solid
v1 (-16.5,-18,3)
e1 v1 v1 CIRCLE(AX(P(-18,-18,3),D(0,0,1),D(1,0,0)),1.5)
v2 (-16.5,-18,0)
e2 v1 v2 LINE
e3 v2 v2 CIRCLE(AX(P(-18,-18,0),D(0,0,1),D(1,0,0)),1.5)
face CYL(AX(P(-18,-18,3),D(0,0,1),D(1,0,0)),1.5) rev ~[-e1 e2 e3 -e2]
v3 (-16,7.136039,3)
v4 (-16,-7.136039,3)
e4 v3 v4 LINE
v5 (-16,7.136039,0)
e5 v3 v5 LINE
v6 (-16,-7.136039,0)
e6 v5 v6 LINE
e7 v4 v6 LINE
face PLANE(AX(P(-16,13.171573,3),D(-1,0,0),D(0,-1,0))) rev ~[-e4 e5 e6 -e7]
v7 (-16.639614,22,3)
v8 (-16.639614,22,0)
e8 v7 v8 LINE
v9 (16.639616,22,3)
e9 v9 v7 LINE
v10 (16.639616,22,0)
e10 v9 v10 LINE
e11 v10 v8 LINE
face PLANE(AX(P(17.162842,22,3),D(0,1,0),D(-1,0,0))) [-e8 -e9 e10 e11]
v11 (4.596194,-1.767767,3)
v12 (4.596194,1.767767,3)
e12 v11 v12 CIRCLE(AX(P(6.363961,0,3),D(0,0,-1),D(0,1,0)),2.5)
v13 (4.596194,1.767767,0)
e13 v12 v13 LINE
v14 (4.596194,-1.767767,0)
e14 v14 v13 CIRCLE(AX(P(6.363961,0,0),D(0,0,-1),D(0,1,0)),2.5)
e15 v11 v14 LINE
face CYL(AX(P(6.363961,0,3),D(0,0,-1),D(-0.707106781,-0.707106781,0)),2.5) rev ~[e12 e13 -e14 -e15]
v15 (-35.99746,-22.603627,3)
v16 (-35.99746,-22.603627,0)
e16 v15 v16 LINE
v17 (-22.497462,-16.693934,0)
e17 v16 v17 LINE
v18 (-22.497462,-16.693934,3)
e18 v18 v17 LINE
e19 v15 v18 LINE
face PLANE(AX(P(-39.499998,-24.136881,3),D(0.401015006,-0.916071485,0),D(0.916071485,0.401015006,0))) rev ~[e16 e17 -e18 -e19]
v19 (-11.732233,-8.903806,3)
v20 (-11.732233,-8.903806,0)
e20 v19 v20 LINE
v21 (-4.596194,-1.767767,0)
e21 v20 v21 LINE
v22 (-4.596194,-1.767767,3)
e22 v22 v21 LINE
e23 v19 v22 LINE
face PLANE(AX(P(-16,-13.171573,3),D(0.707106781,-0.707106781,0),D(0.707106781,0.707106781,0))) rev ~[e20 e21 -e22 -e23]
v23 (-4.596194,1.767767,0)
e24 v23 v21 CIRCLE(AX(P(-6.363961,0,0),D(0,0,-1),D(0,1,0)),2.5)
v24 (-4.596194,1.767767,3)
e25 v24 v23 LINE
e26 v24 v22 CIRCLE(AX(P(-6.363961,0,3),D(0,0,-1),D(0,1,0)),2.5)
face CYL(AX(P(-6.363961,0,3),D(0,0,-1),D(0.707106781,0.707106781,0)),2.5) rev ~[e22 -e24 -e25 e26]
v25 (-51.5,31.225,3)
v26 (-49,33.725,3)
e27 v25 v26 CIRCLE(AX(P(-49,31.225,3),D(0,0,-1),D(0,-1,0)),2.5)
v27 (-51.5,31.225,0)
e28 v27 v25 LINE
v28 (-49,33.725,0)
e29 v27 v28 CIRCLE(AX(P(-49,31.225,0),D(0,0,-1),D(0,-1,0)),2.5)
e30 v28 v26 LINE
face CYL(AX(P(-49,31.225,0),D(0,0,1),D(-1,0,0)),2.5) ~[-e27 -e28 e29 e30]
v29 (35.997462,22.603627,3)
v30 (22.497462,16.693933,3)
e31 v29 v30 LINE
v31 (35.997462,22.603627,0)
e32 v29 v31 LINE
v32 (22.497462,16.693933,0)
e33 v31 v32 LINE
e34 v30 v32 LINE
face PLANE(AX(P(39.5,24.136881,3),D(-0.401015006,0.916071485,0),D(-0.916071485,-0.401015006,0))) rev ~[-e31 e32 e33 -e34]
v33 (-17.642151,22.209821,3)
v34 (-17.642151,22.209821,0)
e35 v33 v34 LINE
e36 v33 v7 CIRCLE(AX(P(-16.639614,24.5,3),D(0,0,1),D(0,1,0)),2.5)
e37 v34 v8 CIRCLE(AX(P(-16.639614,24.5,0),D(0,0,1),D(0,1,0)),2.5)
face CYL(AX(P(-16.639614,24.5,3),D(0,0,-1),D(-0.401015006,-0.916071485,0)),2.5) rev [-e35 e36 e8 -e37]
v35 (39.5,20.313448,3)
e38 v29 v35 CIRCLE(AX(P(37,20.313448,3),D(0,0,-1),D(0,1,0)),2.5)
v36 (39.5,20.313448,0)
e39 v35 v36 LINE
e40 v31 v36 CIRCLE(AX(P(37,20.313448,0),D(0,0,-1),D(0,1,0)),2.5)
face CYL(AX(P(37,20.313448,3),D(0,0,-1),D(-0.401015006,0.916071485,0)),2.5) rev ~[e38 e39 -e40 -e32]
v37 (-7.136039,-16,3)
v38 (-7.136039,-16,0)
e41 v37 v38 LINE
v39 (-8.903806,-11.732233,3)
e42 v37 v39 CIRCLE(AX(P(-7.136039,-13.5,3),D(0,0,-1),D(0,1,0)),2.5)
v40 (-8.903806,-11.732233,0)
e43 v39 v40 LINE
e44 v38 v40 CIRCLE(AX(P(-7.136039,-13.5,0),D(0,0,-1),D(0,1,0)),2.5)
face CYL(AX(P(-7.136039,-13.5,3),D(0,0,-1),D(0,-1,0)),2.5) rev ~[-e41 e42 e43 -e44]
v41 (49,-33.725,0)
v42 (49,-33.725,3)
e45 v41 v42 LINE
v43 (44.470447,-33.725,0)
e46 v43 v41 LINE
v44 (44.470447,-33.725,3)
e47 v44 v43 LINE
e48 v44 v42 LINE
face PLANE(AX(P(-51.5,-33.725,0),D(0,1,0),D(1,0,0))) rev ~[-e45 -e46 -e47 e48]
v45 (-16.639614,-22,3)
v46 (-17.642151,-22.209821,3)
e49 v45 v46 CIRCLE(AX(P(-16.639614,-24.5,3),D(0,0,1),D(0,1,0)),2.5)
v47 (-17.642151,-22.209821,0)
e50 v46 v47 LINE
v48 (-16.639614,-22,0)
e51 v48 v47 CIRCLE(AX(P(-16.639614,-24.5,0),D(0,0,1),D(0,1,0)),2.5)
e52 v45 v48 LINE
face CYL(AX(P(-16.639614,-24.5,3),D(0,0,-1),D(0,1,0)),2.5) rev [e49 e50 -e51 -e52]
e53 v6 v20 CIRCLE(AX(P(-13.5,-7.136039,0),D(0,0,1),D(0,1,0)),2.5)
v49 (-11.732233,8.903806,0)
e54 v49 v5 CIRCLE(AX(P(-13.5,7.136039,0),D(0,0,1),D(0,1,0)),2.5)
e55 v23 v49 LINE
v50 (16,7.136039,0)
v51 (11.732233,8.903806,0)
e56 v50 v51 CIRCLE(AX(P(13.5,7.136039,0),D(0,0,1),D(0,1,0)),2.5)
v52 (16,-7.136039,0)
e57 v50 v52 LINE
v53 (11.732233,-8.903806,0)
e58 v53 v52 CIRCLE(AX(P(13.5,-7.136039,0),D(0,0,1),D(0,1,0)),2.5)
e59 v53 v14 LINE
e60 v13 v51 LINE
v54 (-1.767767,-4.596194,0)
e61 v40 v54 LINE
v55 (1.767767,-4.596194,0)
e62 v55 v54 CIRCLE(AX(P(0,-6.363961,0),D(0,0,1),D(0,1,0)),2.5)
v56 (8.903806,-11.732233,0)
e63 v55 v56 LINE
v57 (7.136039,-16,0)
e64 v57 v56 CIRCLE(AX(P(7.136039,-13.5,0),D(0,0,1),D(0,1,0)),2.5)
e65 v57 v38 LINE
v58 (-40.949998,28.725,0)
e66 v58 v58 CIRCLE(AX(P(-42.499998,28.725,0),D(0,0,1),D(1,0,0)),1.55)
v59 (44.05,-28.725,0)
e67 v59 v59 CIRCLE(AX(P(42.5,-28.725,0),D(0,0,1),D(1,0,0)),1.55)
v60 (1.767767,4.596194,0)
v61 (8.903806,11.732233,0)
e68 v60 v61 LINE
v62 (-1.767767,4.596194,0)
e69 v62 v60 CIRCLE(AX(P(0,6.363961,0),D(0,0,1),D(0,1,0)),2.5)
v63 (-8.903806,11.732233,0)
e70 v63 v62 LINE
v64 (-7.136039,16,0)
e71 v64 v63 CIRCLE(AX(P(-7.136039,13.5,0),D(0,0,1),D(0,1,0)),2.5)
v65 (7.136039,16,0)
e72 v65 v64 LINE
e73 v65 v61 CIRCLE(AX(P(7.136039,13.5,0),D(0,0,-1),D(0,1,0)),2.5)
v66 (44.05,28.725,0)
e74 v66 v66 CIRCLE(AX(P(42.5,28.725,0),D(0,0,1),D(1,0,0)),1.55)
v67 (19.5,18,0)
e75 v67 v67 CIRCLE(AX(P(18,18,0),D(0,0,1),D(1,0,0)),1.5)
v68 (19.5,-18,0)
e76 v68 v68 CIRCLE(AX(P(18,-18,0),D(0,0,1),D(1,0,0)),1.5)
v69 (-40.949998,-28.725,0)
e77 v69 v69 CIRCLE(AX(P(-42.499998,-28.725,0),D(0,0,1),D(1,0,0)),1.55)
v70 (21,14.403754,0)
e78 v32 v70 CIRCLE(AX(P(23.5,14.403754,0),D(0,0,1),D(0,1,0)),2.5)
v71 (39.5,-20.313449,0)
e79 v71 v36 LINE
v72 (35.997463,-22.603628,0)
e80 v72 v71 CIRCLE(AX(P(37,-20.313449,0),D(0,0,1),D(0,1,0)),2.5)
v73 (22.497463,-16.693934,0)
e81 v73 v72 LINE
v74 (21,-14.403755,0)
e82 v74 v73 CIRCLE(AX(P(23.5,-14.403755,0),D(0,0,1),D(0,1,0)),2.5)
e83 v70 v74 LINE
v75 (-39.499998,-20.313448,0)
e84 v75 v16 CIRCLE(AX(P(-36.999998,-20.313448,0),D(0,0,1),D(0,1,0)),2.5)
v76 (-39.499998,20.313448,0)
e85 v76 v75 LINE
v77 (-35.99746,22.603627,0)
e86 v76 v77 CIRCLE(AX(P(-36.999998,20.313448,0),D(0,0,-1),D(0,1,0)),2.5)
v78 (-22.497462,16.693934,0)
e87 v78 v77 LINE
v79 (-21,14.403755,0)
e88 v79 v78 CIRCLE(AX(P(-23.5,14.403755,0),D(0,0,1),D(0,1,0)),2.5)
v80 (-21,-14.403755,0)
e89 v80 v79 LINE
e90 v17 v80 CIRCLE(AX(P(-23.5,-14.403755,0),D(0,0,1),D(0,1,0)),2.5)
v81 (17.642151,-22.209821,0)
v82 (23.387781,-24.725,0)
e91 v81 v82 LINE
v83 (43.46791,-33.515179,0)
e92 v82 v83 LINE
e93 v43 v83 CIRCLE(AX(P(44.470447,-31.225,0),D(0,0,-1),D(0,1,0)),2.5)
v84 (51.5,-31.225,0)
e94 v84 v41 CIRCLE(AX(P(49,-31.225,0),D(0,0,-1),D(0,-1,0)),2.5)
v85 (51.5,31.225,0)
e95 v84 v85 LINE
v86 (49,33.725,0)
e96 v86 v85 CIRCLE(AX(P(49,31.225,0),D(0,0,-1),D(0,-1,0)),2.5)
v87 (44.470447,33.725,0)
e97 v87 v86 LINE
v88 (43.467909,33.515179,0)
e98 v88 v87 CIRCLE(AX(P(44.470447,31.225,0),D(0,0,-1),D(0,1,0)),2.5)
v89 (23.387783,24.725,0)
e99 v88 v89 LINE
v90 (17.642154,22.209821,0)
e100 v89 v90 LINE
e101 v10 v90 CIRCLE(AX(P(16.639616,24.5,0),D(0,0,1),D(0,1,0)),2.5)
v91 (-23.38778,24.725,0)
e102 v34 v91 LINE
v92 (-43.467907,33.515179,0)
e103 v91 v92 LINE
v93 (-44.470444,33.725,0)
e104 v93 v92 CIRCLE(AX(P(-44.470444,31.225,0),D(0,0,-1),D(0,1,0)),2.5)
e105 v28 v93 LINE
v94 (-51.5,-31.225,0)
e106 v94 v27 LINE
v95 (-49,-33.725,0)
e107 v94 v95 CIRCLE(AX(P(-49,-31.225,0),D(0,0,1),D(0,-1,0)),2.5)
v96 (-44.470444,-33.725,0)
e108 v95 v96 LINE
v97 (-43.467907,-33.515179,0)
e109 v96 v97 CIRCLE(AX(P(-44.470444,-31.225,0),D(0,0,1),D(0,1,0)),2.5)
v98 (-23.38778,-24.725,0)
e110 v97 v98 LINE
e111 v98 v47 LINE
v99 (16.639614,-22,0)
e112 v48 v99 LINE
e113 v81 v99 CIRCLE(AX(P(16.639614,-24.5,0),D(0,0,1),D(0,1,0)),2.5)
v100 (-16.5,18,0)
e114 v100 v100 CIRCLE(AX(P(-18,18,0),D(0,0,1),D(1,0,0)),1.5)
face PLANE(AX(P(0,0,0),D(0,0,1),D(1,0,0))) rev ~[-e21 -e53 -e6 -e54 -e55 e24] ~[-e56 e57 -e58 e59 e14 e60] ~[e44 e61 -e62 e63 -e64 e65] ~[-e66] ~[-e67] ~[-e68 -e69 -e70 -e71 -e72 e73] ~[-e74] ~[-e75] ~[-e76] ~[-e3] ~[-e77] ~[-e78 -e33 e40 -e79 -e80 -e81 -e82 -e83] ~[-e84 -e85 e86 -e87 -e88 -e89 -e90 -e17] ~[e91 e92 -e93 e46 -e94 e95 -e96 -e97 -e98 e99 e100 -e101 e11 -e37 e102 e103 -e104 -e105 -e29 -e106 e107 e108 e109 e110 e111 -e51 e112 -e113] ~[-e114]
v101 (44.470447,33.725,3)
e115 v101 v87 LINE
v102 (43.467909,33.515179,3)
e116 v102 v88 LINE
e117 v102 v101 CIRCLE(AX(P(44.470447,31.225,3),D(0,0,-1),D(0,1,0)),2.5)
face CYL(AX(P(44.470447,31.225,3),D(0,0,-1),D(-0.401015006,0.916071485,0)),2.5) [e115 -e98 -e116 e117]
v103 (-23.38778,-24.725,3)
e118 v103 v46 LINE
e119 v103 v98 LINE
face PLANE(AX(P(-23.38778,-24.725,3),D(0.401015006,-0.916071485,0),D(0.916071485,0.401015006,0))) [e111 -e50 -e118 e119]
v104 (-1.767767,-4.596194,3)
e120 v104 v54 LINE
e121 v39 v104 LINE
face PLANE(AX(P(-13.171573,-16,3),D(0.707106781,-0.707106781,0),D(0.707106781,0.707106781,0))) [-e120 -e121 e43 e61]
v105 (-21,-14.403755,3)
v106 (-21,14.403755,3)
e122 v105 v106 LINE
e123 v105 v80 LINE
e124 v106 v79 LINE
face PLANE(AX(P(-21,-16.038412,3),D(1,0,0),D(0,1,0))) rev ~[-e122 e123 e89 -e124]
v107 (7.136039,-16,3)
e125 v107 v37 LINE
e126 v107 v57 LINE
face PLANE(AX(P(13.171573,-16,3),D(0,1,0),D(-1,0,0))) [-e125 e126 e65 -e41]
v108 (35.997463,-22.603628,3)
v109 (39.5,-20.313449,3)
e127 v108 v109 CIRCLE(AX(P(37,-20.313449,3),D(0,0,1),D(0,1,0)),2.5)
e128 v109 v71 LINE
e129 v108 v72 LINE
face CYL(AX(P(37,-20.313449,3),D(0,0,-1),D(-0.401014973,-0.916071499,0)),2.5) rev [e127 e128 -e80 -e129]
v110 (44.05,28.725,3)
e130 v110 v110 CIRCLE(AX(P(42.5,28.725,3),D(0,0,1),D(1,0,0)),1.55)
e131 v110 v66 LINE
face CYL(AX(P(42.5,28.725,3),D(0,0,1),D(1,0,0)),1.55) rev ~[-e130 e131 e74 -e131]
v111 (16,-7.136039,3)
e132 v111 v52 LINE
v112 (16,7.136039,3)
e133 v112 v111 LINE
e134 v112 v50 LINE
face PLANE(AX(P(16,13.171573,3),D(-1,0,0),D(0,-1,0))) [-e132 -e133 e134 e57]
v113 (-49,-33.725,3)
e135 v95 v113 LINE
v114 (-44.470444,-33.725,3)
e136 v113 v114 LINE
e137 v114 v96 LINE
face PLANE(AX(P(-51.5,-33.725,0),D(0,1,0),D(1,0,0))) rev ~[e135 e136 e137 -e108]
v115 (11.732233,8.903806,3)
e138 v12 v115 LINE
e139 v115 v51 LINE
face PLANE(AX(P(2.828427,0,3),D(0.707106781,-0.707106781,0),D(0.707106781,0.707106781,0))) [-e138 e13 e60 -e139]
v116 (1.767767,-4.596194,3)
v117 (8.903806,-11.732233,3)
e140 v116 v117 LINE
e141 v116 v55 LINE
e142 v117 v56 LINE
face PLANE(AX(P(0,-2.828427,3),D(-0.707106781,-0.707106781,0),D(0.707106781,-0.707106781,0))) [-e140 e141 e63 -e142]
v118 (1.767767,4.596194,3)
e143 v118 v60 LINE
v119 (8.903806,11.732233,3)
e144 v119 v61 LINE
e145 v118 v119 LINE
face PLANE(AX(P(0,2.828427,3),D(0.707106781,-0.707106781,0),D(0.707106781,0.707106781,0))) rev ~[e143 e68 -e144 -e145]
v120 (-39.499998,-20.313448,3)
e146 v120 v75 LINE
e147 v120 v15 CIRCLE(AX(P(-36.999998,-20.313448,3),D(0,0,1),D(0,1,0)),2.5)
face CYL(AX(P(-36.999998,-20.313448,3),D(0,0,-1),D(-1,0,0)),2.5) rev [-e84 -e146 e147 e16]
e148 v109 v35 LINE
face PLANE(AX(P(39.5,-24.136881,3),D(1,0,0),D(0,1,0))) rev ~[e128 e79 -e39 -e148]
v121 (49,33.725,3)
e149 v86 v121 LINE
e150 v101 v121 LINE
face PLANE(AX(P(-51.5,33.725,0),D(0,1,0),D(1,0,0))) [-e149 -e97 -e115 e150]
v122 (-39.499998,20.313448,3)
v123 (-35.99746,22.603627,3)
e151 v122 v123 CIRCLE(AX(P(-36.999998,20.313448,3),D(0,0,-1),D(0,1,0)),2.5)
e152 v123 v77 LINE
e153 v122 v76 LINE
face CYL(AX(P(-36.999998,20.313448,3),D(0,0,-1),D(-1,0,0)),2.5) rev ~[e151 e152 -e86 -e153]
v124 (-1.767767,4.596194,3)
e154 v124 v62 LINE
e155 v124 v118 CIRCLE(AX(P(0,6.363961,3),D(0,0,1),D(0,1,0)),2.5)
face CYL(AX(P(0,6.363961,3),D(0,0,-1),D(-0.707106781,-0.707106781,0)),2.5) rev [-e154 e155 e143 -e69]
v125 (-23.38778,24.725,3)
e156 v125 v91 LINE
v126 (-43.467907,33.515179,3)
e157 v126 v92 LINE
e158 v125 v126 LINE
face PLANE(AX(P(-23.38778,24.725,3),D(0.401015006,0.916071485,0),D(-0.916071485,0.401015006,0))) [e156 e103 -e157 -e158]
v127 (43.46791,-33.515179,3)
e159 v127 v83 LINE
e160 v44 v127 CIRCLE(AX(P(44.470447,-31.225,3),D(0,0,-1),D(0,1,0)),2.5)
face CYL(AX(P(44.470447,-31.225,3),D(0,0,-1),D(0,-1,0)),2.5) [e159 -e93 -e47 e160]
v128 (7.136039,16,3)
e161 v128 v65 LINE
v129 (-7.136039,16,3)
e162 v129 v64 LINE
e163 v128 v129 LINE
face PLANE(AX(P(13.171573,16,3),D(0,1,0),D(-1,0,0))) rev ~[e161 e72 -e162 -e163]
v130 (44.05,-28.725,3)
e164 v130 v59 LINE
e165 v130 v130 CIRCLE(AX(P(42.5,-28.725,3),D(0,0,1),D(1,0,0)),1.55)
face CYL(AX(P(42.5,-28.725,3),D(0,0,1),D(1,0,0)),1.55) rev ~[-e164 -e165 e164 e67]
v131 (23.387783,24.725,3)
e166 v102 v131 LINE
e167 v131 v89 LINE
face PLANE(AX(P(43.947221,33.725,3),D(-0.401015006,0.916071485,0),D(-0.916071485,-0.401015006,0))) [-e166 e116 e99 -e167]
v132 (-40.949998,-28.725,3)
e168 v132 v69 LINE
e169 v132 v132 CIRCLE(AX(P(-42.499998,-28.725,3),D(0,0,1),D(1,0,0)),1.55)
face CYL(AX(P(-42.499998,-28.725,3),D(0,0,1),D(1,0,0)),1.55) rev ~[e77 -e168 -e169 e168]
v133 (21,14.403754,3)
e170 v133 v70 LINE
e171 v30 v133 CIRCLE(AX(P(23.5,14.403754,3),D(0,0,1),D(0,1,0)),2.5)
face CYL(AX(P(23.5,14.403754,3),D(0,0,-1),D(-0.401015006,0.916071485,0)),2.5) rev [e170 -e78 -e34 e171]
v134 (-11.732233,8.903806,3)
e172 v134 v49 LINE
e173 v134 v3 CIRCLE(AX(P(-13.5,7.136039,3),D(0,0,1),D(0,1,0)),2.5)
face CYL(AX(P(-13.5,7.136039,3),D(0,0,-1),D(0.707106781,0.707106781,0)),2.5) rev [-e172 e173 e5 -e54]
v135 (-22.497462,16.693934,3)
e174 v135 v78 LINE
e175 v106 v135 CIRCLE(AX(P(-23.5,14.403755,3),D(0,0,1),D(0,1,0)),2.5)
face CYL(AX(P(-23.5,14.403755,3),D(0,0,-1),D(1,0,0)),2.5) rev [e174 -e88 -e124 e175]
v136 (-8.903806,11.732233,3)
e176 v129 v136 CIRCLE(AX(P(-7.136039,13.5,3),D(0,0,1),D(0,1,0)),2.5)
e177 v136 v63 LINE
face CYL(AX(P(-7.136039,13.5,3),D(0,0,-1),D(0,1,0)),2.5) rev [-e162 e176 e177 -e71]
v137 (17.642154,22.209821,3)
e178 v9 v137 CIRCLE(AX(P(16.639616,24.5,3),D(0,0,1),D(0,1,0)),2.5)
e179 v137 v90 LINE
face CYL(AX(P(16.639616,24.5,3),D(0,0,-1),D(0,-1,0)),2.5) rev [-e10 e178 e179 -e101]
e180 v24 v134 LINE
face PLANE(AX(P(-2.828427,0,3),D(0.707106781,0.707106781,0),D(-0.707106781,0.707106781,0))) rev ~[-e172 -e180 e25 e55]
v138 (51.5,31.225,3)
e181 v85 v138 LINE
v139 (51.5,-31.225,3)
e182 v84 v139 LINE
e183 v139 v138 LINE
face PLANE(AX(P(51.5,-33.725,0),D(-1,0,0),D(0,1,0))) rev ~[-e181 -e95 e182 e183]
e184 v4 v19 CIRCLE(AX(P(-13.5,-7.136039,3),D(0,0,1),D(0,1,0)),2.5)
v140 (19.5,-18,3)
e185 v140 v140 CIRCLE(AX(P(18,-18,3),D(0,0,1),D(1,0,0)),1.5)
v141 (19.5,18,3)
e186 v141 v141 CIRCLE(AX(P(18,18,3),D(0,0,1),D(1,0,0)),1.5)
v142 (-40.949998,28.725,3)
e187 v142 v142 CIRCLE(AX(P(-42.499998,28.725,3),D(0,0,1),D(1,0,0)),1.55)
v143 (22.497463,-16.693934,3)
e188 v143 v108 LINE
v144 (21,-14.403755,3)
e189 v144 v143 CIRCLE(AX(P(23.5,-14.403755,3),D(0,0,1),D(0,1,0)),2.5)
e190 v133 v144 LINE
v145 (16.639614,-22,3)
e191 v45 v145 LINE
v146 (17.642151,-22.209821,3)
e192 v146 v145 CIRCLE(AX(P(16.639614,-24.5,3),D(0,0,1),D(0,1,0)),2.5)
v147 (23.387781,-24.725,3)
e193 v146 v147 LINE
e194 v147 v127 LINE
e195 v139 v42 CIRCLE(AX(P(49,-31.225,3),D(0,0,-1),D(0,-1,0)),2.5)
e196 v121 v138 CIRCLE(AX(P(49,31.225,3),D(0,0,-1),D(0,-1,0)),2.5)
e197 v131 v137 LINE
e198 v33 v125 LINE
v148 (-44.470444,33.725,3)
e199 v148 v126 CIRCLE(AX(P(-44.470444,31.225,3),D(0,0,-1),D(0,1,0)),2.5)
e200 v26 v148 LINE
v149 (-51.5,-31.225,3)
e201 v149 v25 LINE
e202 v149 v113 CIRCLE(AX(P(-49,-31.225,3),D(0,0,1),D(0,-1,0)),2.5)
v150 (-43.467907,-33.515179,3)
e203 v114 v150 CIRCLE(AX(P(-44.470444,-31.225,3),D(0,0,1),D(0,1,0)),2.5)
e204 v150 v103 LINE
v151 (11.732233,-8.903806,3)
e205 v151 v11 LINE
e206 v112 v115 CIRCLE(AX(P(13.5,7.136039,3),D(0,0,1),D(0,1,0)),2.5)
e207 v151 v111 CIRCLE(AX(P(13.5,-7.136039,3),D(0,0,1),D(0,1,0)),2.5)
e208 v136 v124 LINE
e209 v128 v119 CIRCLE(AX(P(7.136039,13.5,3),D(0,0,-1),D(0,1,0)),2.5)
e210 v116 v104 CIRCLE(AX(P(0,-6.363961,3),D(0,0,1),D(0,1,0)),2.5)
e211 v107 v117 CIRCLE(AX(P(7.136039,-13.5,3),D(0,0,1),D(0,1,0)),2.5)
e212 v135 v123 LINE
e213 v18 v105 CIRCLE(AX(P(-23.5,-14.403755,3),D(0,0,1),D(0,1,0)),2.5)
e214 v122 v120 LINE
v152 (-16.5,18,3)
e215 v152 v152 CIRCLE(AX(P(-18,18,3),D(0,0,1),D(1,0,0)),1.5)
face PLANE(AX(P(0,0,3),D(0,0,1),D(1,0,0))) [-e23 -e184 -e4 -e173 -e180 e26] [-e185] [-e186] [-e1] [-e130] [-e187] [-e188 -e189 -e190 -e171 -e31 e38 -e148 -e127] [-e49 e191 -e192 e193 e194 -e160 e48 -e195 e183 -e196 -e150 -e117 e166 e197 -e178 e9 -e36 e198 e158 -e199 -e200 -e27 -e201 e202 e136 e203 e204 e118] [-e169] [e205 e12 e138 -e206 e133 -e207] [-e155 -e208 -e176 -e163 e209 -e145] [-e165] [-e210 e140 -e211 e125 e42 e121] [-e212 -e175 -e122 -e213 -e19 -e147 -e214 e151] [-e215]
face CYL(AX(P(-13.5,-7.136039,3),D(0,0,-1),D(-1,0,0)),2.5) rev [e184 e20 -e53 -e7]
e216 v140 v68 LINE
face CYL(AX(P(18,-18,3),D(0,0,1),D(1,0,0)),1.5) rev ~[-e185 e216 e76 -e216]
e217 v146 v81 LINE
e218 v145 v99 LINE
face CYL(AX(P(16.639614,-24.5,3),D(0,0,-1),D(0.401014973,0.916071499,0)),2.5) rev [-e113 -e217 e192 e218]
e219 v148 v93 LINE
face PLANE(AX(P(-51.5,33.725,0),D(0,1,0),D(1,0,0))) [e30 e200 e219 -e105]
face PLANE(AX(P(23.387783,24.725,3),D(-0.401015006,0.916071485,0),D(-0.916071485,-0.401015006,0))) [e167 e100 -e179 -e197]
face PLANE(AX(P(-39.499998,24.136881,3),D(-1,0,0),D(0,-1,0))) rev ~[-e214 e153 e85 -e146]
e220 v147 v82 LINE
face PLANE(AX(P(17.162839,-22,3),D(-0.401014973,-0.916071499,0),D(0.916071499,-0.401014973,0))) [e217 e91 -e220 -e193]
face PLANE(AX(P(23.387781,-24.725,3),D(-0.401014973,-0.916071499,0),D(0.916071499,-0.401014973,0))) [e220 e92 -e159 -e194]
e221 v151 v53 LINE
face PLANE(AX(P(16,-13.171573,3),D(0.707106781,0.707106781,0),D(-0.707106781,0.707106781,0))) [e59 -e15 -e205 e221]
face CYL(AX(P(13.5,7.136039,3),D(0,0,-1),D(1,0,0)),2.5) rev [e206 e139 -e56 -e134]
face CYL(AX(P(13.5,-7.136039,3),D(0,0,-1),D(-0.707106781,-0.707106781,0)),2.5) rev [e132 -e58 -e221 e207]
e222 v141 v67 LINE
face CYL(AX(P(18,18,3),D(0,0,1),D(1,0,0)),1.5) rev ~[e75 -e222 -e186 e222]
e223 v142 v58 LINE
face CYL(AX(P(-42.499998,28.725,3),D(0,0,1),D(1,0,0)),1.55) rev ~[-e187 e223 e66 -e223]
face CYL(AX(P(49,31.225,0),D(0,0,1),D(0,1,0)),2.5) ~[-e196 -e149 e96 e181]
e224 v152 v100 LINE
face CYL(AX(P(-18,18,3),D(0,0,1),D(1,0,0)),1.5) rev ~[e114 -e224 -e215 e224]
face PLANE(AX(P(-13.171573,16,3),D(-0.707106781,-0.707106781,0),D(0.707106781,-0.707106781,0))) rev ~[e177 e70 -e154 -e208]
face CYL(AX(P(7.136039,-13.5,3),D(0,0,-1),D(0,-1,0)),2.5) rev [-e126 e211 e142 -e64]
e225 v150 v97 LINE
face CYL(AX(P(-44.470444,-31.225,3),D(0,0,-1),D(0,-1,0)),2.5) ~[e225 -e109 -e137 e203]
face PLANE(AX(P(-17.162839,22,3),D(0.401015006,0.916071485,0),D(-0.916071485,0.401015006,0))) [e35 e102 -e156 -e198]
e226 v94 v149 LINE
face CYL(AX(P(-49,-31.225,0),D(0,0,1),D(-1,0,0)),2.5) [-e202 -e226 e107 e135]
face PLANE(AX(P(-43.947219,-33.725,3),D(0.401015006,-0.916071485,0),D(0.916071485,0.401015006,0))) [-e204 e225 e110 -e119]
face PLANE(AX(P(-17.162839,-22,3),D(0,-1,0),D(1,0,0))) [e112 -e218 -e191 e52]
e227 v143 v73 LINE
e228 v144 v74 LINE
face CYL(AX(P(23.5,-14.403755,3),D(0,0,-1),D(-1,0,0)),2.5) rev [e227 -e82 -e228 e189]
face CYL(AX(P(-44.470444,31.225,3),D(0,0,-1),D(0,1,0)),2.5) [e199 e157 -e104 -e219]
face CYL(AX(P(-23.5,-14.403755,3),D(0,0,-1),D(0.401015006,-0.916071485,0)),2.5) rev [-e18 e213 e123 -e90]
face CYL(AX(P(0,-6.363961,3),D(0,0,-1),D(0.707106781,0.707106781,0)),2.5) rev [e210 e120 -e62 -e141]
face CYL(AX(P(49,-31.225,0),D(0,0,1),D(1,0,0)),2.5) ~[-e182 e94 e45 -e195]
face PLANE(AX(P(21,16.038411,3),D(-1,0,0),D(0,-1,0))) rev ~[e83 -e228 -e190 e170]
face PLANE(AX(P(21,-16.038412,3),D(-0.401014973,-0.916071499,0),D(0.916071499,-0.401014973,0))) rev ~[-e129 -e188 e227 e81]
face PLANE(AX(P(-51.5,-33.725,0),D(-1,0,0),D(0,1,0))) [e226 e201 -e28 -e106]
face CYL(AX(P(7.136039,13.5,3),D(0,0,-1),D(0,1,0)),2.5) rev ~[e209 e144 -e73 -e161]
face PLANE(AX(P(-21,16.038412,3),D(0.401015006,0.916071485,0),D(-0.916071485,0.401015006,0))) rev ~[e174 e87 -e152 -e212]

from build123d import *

# Parameters (mm, degrees)
SKETCH_1_W          = 103
SKETCH_1_H          = 67.45
EXTRUDE_1_DEPTH     = 3
SKETCH_2_R          = 1.5
SKETCH_2_R_2        = 1.55
CUT_EXTRUDE_1_DEPTH = 10
CUT_EXTRUDE_2_DEPTH = 10
FILLET_2_R          = 2.5


with BuildPart() as part:
    # 草图1 → 凸台-拉伸1 (new body)
    with BuildSketch(Plane.XY):
        Rectangle(SKETCH_1_W, SKETCH_1_H)
    extrude(amount=EXTRUDE_1_DEPTH)

    # 草图2 → 切除-拉伸1 (cut)
    with BuildSketch(Plane.XY.offset(3)):
        with Locations((-18, 18)):
            Circle(SKETCH_2_R)
        with Locations((18, 18)):
            Circle(SKETCH_2_R)
        with Locations((18, -18)):
            Circle(SKETCH_2_R)
        with Locations((-18, -18)):
            Circle(SKETCH_2_R)
        with Locations((-42.499997562, 28.725)):
            Circle(SKETCH_2_R_2)
        with Locations((-42.499997562, -28.725)):
            Circle(SKETCH_2_R_2)
        with Locations((42.5, -28.725)):
            Circle(SKETCH_2_R_2)
        with Locations((42.5, 28.725)):
            Circle(SKETCH_2_R_2)
    extrude(amount=-CUT_EXTRUDE_1_DEPTH, mode=Mode.SUBTRACT)

    # 草图3 → 切除-拉伸2 (cut)
    with BuildSketch(Plane.XY.offset(3)):
        Polygon((-39.499997562, 24.136880962), (-39.499997562, -24.136880962), (-21, -16.038411836), (-21, 16.038411836), align=None)
        Polygon((-17.162839154, 22), (-23.38778026, 24.725), (-43.947218774, 33.725), (43.947221211, 33.725), (23.387782698, 24.725), (17.162841592, 22), align=None)
        Polygon((39.5, 24.136880962), (21, 16.038410769), (21, -16.038411758), (39.5, -24.136881145), align=None)
        Polygon((-23.38778026, -24.725), (-17.162839154, -22), (17.162839231, -22), (23.387780956, -24.725), (43.947221515, -33.725), (-43.947218774, -33.725), align=None)
        Polygon((-2.828427125, 0), (-16, 13.171572875), (-16, -13.171572875), align=None)
        Polygon((13.171572875, 16), (-13.171572875, 16), (0, 2.828427125), align=None)
        Polygon((2.828427125, 0), (16, 13.171572875), (16, -13.171572875), align=None)
        Polygon((-13.171572875, -16), (0, -2.828427125), (13.171572875, -16), align=None)
    extrude(amount=-CUT_EXTRUDE_2_DEPTH, mode=Mode.SUBTRACT)

    # 圆角2
    fillet_2_edges = [part.edges().sort_by_distance(p)[0] for p in [
        (17.162841592, 22, 1.5),
        (-17.162839154, 22, 1.5),
        (-43.947218774, 33.725, 1.5),
        (43.947221211, 33.725, 1.5),
        (39.5, 24.136880962, 1.5),
        (39.5, -24.136881145, 1.5),
        (21, -16.038411758, 1.5),
        (21, 16.038410769, 1.5),
        (13.171572875, -16, 1.5),
        (-13.171572875, -16, 1.5),
        (0, -2.828427125, 1.5),
        (13.171572875, 16, 1.5),
        (0, 2.828427125, 1.5),
        (-13.171572875, 16, 1.5),
        (16, -13.171572875, 1.5),
        (2.828427125, 0, 1.5),
        (16, 13.171572875, 1.5),
        (-39.499997562, 24.136880962, 1.5),
        (-21, 16.038411836, 1.5),
        (-21, -16.038411836, 1.5),
        (-39.499997562, -24.136880962, 1.5),
        (-51.5, 33.725, 1.5),
        (51.5, 33.725, 1.5),
        (51.5, -33.725, 1.5),
        (-51.5, -33.725, 1.5),
        (-2.828427125, 0, 1.5),
        (-16, -13.171572875, 1.5),
        (-16, 13.171572875, 1.5),
        (-43.947218774, -33.725, 1.5),
        (-17.162839154, -22, 1.5),
        (17.162839231, -22, 1.5),
        (43.947221515, -33.725, 1.5),
    ]]
    fillet(fillet_2_edges, radius=FILLET_2_R)


solid = part.part
